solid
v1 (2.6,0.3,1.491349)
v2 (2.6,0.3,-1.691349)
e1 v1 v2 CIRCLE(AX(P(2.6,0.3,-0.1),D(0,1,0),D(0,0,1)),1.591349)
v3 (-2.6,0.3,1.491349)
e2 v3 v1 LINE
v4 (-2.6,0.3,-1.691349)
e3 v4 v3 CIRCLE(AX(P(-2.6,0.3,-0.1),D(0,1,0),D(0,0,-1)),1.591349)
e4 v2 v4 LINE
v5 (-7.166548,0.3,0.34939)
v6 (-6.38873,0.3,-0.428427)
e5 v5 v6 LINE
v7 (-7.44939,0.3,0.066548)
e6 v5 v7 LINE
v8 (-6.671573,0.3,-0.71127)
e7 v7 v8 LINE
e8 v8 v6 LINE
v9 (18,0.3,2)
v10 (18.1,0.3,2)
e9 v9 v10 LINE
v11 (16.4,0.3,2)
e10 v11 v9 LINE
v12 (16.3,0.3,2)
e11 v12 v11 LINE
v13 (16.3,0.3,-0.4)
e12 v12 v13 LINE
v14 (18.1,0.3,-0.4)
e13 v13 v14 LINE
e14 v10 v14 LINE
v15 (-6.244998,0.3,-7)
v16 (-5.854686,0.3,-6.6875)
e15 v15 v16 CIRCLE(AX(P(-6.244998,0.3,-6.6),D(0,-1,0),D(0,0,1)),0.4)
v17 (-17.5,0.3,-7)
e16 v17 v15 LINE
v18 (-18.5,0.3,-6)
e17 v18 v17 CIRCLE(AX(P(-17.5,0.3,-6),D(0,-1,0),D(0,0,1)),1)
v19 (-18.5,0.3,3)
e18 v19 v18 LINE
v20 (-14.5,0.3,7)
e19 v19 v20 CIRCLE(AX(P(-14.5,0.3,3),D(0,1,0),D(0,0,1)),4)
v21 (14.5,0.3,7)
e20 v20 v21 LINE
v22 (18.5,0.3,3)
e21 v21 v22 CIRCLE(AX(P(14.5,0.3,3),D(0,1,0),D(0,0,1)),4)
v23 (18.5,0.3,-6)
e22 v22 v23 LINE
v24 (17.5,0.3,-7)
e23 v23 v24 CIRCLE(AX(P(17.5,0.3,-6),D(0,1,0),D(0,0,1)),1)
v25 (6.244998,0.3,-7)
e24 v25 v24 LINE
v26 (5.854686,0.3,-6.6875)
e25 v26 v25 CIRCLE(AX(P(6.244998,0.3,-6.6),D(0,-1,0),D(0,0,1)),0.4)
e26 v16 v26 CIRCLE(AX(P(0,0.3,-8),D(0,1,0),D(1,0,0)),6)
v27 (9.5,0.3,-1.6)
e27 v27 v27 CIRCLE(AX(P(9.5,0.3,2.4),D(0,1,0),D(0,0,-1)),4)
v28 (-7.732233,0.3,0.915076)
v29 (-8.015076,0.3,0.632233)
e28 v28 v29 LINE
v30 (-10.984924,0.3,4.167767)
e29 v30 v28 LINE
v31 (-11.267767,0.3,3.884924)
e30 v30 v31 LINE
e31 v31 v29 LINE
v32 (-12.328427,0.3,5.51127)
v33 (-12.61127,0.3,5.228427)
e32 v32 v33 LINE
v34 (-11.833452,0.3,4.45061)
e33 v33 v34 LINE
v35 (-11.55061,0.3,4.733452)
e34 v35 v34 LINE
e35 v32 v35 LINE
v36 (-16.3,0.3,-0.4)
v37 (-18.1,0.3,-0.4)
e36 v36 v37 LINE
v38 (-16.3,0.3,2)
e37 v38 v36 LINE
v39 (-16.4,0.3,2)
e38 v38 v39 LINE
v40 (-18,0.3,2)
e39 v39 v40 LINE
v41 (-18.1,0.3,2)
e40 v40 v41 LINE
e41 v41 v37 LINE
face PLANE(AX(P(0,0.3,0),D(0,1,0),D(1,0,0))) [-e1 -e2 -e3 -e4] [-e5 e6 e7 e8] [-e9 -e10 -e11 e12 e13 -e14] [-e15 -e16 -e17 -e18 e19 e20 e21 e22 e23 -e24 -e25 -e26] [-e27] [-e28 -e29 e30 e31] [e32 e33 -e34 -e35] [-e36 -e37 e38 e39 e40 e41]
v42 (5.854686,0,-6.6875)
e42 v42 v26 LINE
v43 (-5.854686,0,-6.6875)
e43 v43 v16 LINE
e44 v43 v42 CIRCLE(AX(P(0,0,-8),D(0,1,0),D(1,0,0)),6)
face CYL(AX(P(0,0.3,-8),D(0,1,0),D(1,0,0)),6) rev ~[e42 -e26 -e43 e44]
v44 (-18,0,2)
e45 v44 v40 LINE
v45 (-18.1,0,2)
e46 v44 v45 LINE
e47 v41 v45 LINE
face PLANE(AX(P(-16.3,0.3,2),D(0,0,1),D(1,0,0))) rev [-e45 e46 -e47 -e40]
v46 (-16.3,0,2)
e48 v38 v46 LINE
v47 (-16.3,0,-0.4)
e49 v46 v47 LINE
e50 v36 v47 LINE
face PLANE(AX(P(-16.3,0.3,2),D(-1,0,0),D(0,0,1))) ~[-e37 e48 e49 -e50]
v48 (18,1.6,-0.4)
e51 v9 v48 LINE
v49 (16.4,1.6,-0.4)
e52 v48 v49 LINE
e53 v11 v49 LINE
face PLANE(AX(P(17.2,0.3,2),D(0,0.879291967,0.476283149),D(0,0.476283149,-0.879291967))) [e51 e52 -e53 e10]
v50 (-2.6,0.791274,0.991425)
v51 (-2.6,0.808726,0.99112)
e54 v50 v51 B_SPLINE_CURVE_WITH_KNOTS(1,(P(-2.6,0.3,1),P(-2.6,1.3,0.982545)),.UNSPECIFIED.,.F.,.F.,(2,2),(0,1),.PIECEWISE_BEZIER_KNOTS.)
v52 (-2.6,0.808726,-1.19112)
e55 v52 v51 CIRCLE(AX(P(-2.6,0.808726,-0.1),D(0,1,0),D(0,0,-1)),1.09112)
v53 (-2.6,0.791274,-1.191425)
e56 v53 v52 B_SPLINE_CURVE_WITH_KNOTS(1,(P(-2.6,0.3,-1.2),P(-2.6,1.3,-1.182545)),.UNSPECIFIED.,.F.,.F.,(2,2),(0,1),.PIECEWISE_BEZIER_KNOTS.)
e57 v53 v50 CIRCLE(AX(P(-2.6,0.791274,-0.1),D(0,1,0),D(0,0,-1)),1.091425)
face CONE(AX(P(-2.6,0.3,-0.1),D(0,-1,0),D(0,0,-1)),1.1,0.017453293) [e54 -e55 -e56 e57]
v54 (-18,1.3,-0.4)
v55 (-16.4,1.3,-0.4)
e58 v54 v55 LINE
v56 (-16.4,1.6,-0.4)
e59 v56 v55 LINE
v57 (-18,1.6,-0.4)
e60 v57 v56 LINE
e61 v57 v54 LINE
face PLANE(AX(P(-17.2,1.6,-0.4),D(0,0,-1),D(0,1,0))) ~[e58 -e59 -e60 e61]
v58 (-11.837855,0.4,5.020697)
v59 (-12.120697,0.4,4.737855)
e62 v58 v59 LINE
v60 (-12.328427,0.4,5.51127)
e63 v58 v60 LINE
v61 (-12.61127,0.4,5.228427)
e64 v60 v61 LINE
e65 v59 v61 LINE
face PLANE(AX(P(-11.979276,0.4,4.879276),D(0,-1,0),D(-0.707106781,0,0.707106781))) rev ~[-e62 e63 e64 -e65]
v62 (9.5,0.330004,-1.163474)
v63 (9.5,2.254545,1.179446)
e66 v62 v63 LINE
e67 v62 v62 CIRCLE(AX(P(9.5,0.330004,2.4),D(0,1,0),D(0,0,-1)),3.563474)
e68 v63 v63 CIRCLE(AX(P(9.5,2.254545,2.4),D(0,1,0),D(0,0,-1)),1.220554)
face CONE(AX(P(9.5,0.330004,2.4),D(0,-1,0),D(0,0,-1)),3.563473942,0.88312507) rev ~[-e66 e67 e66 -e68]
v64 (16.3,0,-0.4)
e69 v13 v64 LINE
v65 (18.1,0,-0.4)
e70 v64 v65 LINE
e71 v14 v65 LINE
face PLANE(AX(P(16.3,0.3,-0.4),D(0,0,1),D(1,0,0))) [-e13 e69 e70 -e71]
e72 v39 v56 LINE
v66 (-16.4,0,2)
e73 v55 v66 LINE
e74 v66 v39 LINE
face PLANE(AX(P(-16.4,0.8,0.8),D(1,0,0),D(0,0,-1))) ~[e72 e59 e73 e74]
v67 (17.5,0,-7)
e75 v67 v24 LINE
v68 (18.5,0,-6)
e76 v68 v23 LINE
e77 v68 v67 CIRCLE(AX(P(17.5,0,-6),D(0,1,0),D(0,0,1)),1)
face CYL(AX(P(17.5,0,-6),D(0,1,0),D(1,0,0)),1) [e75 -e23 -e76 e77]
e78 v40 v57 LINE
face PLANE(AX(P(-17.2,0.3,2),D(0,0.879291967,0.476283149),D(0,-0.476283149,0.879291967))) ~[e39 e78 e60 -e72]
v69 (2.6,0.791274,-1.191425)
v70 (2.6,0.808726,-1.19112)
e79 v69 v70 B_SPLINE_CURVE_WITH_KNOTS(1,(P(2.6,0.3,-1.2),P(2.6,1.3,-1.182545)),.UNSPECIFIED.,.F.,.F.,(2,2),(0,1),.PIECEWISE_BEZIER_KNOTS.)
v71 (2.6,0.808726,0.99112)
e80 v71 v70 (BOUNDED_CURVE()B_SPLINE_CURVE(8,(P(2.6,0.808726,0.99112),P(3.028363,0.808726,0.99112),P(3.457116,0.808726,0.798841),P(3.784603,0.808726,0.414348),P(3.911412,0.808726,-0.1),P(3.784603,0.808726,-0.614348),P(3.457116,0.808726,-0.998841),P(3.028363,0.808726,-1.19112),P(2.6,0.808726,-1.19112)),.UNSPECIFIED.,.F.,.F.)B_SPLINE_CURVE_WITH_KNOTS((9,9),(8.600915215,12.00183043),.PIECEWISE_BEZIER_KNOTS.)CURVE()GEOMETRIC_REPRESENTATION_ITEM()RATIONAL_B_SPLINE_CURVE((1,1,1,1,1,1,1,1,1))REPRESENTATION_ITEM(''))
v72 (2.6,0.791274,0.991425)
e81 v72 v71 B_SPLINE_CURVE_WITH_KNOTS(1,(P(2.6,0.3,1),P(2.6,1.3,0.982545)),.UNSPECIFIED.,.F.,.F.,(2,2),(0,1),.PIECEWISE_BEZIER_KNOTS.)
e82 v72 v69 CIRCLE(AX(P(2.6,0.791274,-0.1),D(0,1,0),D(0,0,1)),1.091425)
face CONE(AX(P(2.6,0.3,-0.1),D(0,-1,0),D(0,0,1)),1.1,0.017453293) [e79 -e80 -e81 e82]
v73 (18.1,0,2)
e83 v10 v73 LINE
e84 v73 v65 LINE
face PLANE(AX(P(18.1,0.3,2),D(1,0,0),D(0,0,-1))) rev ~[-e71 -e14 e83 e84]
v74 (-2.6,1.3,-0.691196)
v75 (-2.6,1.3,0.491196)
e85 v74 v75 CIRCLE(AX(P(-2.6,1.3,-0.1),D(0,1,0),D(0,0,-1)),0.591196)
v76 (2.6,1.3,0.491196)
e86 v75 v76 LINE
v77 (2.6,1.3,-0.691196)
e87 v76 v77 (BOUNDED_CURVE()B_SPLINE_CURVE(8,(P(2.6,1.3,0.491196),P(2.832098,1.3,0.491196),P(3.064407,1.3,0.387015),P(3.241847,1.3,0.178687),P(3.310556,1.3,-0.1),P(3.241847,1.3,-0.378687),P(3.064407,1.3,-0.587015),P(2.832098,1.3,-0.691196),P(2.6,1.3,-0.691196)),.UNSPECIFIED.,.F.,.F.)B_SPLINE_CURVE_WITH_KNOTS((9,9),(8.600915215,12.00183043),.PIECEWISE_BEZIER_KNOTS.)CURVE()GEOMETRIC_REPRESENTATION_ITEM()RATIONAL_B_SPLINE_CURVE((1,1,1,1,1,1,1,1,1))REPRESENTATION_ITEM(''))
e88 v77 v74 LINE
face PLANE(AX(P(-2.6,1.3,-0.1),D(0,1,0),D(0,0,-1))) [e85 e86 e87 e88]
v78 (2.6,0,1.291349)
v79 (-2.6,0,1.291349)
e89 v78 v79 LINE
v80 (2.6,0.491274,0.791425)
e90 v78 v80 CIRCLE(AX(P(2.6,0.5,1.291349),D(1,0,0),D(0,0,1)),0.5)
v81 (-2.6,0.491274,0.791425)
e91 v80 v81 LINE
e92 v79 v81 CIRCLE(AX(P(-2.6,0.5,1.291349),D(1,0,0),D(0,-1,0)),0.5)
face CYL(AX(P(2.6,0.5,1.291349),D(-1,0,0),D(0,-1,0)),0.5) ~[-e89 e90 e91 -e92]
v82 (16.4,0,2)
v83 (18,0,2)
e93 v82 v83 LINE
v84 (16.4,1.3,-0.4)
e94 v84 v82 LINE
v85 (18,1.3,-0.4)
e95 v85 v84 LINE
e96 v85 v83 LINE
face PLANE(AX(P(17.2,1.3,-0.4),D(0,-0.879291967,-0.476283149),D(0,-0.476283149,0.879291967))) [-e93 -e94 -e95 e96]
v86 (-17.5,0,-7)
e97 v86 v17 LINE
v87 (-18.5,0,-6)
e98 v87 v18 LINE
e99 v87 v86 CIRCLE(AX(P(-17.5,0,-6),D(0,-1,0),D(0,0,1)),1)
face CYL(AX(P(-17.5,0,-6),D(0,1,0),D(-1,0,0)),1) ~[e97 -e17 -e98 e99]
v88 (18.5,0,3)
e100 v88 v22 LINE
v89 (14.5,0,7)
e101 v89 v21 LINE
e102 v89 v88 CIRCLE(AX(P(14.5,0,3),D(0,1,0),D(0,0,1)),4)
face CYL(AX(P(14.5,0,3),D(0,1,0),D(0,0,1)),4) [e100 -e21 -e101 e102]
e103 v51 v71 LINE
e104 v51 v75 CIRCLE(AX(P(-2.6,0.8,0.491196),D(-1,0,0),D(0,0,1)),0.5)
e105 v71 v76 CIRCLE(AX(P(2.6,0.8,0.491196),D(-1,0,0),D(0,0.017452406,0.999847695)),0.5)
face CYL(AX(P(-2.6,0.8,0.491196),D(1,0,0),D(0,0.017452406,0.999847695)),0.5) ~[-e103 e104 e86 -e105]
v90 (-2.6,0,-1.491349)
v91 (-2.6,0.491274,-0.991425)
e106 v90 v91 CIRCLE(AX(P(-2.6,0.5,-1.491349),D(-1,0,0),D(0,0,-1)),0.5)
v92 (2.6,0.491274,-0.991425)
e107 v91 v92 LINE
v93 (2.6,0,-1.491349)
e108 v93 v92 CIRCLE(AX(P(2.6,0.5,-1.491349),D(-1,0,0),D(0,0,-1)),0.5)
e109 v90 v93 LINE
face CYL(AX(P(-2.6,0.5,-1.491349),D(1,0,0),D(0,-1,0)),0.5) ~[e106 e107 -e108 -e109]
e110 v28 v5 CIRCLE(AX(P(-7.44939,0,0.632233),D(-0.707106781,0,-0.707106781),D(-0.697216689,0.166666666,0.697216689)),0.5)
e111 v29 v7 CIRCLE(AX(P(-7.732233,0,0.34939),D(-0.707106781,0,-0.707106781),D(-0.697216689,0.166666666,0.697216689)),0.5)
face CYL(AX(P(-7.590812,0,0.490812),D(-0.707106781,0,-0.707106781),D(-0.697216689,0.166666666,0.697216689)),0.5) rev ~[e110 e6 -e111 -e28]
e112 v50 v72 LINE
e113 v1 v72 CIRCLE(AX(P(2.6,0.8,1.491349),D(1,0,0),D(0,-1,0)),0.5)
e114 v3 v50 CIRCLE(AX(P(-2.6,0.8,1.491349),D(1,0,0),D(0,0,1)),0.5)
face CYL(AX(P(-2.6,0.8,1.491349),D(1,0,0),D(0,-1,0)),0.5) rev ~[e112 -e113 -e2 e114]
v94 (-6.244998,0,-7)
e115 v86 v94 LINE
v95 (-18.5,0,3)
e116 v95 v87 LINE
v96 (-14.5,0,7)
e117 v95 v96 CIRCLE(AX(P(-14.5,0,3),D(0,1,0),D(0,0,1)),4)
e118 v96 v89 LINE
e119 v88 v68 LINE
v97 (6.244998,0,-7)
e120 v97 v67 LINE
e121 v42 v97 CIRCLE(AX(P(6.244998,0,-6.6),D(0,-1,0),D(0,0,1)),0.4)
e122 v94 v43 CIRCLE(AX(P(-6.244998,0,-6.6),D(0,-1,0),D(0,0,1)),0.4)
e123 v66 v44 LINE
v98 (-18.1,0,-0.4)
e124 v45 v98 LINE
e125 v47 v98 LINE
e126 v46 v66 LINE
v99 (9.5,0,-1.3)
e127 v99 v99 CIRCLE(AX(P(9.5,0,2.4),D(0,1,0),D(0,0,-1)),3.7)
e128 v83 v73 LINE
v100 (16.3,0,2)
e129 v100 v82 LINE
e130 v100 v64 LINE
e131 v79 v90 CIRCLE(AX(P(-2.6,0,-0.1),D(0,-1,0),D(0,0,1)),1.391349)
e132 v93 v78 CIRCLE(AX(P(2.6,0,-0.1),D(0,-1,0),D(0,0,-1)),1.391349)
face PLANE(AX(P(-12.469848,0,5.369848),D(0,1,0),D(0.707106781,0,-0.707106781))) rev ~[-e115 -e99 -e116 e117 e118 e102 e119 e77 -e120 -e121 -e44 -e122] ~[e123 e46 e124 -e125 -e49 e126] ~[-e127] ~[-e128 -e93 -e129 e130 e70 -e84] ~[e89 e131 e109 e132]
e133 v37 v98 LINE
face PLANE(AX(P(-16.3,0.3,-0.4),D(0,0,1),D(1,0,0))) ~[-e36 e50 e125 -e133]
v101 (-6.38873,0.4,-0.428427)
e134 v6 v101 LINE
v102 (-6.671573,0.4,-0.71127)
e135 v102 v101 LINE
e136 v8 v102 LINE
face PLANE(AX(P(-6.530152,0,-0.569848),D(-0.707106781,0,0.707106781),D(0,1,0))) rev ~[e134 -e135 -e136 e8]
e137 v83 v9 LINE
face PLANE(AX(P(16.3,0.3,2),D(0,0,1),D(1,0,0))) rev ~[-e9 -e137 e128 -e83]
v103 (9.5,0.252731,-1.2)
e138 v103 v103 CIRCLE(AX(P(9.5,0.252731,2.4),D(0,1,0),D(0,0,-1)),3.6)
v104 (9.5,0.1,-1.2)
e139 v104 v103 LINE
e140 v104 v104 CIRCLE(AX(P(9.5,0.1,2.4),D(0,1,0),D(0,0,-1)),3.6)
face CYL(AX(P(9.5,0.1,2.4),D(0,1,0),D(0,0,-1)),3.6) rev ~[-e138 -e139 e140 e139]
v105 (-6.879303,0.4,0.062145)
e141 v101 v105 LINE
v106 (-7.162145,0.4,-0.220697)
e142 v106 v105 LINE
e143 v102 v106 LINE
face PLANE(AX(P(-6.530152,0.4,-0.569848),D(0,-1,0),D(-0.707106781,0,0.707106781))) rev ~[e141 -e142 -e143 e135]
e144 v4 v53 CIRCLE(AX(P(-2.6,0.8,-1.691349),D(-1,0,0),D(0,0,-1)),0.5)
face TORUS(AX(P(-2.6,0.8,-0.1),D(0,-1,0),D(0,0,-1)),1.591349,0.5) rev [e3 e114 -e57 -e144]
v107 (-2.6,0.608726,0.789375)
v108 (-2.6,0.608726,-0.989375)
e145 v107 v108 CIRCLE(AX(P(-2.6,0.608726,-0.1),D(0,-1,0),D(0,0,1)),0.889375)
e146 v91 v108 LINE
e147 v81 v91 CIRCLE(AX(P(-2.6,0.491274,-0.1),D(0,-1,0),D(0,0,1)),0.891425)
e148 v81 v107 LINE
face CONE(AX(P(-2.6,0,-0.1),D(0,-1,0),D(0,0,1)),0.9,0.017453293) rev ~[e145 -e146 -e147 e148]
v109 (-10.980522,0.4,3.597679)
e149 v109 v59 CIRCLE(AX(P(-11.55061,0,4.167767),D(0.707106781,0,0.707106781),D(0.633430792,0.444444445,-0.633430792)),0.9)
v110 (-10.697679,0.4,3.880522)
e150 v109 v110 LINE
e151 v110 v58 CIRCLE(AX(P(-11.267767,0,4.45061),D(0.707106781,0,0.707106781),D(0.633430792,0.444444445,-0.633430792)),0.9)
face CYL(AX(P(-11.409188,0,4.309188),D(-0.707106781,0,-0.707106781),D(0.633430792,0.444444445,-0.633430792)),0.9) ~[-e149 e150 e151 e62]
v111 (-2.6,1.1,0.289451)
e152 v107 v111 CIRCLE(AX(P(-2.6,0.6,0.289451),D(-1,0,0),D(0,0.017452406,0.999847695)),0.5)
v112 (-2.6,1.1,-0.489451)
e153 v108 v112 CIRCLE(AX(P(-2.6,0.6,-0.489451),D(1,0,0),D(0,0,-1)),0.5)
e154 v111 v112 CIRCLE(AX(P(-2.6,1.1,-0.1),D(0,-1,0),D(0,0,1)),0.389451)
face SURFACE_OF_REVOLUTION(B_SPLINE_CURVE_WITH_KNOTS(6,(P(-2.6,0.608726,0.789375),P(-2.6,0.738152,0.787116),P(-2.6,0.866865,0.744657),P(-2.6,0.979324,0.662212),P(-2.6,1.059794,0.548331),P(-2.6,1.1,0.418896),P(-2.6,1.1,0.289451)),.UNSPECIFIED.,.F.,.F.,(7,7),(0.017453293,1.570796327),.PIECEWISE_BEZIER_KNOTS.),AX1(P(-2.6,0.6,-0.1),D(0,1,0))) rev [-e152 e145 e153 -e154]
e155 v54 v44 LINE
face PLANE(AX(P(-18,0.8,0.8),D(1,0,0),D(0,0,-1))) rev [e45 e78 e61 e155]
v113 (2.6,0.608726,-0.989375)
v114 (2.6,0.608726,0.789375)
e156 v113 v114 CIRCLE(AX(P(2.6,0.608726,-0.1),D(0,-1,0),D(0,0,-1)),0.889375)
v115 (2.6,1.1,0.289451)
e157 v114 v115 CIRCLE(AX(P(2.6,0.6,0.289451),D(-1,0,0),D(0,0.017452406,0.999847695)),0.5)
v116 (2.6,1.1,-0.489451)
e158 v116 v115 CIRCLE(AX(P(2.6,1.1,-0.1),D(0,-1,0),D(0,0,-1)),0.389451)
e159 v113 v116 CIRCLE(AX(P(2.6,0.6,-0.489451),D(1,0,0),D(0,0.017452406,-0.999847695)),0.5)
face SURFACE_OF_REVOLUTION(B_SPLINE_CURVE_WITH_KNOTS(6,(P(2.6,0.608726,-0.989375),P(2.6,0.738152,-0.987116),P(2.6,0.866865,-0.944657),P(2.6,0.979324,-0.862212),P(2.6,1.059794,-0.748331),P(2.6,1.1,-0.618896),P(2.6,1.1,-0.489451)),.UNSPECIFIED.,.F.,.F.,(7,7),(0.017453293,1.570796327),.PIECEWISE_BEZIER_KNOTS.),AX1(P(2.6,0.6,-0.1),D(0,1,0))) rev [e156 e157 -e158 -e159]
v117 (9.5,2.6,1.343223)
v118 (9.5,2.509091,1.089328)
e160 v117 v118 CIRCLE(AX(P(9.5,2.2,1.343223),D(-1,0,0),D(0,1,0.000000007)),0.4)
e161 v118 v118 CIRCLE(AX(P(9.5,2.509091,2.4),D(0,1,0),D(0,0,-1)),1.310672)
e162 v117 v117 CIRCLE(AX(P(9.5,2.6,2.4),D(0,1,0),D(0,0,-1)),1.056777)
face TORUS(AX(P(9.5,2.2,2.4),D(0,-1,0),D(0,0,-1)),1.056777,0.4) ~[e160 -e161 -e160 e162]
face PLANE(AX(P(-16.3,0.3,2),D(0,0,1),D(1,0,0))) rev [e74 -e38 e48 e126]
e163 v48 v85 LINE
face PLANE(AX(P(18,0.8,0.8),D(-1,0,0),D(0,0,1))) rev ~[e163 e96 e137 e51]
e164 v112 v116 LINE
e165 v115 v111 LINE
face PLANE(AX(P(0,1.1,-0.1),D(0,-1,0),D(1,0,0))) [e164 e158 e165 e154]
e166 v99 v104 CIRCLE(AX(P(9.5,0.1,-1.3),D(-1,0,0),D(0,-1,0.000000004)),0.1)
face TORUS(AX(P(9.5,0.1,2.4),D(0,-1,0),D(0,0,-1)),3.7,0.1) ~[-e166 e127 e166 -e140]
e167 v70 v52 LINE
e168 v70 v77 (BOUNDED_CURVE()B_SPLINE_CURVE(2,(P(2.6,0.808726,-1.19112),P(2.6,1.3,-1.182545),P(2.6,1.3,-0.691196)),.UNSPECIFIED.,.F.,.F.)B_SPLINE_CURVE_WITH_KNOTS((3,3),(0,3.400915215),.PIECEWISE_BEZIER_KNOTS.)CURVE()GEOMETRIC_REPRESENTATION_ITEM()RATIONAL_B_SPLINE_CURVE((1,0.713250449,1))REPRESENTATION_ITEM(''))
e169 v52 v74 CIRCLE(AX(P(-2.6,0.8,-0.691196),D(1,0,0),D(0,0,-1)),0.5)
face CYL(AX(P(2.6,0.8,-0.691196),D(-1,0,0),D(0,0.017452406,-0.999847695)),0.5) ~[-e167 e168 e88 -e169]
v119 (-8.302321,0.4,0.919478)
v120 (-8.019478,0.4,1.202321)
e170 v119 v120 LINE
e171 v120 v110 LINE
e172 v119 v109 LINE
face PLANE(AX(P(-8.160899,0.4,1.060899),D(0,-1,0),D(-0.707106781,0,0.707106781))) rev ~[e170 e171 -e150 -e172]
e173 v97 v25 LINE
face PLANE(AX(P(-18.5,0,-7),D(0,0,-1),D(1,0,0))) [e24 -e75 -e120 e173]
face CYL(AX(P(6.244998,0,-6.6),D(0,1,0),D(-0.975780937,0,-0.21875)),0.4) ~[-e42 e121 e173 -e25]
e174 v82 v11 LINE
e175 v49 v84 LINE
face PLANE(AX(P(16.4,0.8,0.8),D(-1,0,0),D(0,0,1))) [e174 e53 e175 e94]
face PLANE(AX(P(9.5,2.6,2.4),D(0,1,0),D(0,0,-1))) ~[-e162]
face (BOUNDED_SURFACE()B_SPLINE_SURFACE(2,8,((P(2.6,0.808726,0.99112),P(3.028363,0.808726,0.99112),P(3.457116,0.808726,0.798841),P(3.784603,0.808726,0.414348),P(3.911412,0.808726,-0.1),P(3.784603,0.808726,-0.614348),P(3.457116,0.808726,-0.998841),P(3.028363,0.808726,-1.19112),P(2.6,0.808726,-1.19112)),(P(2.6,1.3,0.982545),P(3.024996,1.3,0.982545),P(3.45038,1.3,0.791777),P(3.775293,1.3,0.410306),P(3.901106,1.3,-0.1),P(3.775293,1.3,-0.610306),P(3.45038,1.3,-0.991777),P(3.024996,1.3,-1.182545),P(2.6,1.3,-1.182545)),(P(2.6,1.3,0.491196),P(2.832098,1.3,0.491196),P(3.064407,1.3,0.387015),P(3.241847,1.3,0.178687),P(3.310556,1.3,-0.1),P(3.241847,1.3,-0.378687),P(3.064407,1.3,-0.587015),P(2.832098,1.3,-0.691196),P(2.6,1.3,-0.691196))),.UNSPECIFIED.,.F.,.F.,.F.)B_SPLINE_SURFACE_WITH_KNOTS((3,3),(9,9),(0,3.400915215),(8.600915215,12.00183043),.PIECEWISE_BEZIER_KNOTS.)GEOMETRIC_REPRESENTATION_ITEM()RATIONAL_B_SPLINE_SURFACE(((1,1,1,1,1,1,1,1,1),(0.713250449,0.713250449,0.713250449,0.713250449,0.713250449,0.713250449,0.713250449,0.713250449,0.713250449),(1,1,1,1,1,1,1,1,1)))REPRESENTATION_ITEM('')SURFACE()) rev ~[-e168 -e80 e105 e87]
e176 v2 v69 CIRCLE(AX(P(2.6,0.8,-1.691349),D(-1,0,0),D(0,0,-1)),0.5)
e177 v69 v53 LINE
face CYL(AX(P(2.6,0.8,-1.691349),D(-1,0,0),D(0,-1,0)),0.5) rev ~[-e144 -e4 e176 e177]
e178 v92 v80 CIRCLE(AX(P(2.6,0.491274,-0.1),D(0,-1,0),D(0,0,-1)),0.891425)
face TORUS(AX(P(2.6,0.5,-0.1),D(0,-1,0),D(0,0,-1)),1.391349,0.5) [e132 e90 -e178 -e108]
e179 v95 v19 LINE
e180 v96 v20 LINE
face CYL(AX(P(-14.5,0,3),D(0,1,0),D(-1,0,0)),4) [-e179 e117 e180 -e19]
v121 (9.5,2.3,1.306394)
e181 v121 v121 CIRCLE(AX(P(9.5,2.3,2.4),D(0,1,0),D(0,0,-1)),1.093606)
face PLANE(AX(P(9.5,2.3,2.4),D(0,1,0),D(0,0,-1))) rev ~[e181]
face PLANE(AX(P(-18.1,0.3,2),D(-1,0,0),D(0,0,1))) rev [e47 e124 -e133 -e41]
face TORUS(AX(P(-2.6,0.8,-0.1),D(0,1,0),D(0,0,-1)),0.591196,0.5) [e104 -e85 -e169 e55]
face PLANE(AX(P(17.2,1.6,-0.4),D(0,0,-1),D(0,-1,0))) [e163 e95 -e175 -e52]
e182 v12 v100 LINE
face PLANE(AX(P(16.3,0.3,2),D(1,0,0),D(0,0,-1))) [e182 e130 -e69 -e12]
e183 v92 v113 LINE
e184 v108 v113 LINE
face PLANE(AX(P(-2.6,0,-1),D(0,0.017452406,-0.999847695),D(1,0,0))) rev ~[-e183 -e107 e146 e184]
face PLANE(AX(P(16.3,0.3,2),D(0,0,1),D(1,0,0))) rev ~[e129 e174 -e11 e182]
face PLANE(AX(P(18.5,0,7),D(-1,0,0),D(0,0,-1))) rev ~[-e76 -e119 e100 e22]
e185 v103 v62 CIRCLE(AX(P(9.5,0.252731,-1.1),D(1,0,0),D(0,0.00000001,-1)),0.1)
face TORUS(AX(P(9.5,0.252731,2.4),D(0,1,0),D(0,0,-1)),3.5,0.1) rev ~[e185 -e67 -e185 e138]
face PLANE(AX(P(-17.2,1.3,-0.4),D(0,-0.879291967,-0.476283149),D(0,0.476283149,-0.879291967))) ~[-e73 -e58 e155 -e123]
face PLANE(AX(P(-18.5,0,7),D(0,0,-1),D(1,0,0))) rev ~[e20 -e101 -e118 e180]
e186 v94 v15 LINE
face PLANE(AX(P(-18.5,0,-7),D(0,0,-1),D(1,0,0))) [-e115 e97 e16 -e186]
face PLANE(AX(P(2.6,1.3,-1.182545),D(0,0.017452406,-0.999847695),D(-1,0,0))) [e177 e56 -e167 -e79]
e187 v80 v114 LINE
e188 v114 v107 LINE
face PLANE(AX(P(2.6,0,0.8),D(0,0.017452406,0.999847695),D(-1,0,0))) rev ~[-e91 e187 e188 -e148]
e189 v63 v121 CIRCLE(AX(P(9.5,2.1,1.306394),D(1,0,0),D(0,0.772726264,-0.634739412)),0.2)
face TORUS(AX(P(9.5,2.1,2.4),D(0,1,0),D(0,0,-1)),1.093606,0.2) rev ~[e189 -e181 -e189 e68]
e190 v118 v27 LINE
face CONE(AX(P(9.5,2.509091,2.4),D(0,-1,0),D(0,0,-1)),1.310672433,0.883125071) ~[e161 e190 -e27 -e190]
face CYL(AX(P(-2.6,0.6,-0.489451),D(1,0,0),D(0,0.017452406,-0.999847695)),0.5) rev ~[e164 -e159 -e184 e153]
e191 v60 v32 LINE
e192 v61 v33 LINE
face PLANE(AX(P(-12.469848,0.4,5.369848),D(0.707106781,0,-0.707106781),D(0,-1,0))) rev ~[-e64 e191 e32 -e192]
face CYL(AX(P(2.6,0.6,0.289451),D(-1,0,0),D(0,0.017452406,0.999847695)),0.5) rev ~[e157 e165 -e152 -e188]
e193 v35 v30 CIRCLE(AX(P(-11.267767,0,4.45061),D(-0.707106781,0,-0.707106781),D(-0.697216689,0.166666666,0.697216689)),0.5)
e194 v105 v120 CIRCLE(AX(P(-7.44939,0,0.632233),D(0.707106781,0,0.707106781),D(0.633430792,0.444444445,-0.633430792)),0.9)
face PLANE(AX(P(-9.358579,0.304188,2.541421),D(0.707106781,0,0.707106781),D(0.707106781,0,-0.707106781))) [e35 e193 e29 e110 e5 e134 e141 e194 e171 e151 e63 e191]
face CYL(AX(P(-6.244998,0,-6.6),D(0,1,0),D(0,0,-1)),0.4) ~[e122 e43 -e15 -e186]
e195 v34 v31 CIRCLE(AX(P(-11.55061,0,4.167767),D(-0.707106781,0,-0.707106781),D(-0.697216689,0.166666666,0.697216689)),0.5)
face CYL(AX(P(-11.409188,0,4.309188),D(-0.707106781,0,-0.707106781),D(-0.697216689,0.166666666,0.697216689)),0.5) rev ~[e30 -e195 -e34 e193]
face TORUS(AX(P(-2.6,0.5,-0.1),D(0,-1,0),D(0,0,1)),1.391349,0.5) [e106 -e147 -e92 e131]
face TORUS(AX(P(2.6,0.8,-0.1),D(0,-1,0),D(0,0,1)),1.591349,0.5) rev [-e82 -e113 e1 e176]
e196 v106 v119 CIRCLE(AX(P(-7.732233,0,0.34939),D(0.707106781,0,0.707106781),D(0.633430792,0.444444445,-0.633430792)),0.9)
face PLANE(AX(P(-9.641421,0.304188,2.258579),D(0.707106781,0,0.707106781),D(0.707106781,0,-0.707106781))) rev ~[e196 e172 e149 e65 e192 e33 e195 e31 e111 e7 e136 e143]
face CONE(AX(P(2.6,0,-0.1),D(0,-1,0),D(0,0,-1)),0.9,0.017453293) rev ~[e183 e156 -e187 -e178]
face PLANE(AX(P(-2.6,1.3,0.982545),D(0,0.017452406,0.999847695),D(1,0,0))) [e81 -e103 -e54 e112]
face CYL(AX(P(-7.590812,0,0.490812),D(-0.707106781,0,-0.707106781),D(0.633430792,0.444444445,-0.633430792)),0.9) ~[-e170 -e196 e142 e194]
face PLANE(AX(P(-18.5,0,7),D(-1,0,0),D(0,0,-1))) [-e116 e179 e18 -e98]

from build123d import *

# Parameters (mm, degrees)
SKETCH1_W               = 37
SKETCH1_H               = 14
BASE_DEPTH              = 0.3
SKETCH3_R               = 6
TOP_SEMI_CIRCLE_DEPTH   = 20.782315335
SKETCH2_R               = 4
PT_CUT_DEPTH            = 20.782315335
MID_SLOT_BOSS_DEPTH     = 1
MID_SLOT_BOSS_TAPER     = 1
MSB_CUT_DEPTH           = 1.1
MSB_CUT_DRAFT           = -1
SKETCH7_W               = 1.8
SKETCH7_H               = 2.4
LOCKING_CLAMP_CUT_DEPTH = 20.91331213
LOCKING_CLAMP_DEPTH     = 0.8
SPRING_CLASP_DEPTH      = 0.2
TS_F_R                  = 1
BS_F_R                  = 4
SC_F_R                  = 0.4
MSB_OUTER_R             = 0.5
MSB_INNER_R             = 0.5


with BuildPart() as part:
    # Sketch1 → BASE (new body)
    with BuildSketch(Plane(origin=(0, 0, 0), x_dir=(1, 0, 0), z_dir=(0, 1, 0))):
        Rectangle(SKETCH1_W, SKETCH1_H)
    extrude(amount=BASE_DEPTH)

    # Sketch3 → TOP SEMI CIRCLE (cut, through all)
    with BuildSketch(Plane(origin=(0, 0.3, 0), x_dir=(1, 0, 0), z_dir=(0, 1, 0))):
        with Locations((0, 8)):
            Circle(SKETCH3_R)
    extrude(amount=-TOP_SEMI_CIRCLE_DEPTH, mode=Mode.SUBTRACT)

    # Sketch2 → PT CUT (cut, through all)
    with BuildSketch(Plane(origin=(0, 0.3, 0), x_dir=(1, 0, 0), z_dir=(0, 1, 0))):
        with Locations(Location((9.5, -2.4, 0), (0, 0, 270))):
            Circle(SKETCH2_R)
    extrude(amount=-PT_CUT_DEPTH, mode=Mode.SUBTRACT)

    # Sketch4 → POSITIVE TERMINAL (revolve)
    with BuildSketch(Plane.XY.offset(2.4), mode=Mode.PRIVATE) as positive_terminal_sk:
        with BuildLine():
            Line((9.5, 2.6), (10.556776663, 2.6))
            ThreePointArc((10.556776663, 2.6), (10.691616938, 2.576587441), (10.810672433, 2.509090502))
            Line((10.810672433, 2.509090502), (13.5, 0.3))
            Line((13.5, 0.3), (13.5, 0))
            Line((13.5, 0), (13.2, 0))
            ThreePointArc((13.2, 0), (13.129289322, 0.029289322), (13.1, 0.1))
            Line((13.1, 0.1), (13.1, 0.252730922))
            ThreePointArc((13.1, 0.252730922), (13.090408501, 0.295466187), (13.063473942, 0.330003547))
            Line((13.063473942, 0.330003547), (10.720553608, 2.254545251))
            ThreePointArc((10.720553608, 2.254545251), (10.66102586, 2.28829372), (10.593605723, 2.3))
            Line((10.593605723, 2.3), (9.5, 2.3))
            Line((9.5, 2.3), (9.5, 2.6))
        make_face()
    revolve(positive_terminal_sk.sketch.rotate(Axis((9.5, 0, 2.4), (0, 1, 0)), 90), axis=Axis((9.5, 0, 2.4), (0, 1, 0)))

    # Sketch5 → MID SLOT BOSS (add)
    with BuildSketch(Plane(origin=(0, 0.3, 0), x_dir=(1, 0, 0), z_dir=(0, 1, 0))):
        with BuildLine():
            ThreePointArc((-2.6, 1.2), (-3.7, 0.1), (-2.6, -1))
            Line((-2.6, -1), (2.6, -1))
            ThreePointArc((2.6, -1), (3.7, 0.1), (2.6, 1.2))
            Line((2.6, 1.2), (-2.6, 1.2))
        make_face()
    extrude(amount=MID_SLOT_BOSS_DEPTH, taper=MID_SLOT_BOSS_TAPER)


with BuildPart() as msb_cut_tool:
    # Sketch6 → MSB CUT (with draft: the straight prism first)
    with BuildSketch(Plane.XZ):
        with BuildLine():
            ThreePointArc((2.6, -1), (3.5, -0.1), (2.6, 0.8))
            Line((2.6, 0.8), (-2.6, 0.8))
            ThreePointArc((-2.6, 0.8), (-3.5, -0.1), (-2.6, -1))
            Line((-2.6, -1), (2.6, -1))
        make_face()
    extrude(amount=-MSB_CUT_DEPTH)
    # MSB CUT: the draft: its side faces are tilted about the plane it starts from
    msb_cut_sides = [msb_cut_tool.faces().sort_by_distance(p)[0] for p in [
        (-3.5, 0.55, -0.1),
        (0, 0.55, -1),
        (3.5, 0.55, -0.1),
        (0, 0.55, 0.8),
    ]]
    draft(msb_cut_sides, Plane.XZ, MSB_CUT_DRAFT)


with BuildPart() as part_1:
    add(part.part)

    # MSB CUT: cut by msb_cut_tool
    add(msb_cut_tool.part, mode=Mode.SUBTRACT)

    # Sketch7 → LOCKING CLAMP CUT (cut, through all)
    with BuildSketch(Plane(origin=(0, 0.3, 0), x_dir=(1, 0, 0), z_dir=(0, 1, 0))):
        with Locations((17.2, -0.8)):
            Rectangle(SKETCH7_W, SKETCH7_H)
    locking_clamp_cut = extrude(amount=-LOCKING_CLAMP_CUT_DEPTH, mode=Mode.SUBTRACT)

    # Sketch9 → LOCKING CLAMP (add, symmetric)
    with BuildSketch(Plane.ZY.offset(-17.2)):
        Polygon((2, 0.3), (-0.4, 1.6), (-0.4, 1.3), (2, 0), align=None)
    locking_clamp = extrude(amount=LOCKING_CLAMP_DEPTH, both=True)

    # LC M: LOCKING CLAMP CUT, LOCKING CLAMP across plane
    add(locking_clamp_cut.mirror(Plane(origin=(0, 0, 0), x_dir=(0, 0, 1), z_dir=(1, 0, 0))), mode=Mode.SUBTRACT)
    add(locking_clamp.mirror(Plane(origin=(0, 0, 0), x_dir=(0, 0, 1), z_dir=(1, 0, 0))))

    # Sketch11 → SPRING CLASP (add, symmetric)
    with BuildSketch(Plane(origin=(-3.55, 0, -3.55), x_dir=(-0.7071067811865459, 0, 0.7071067811865491), z_dir=(-0.7071067811865491, 0, -0.7071067811865459))):
        with BuildLine():
            Line((12.614570696, 0), (11.706178674, 0))
            ThreePointArc((11.706178674, 0), (11.641628952, 0.023623738), (11.607577345, 0.083333333))
            ThreePointArc((11.607577345, 0.083333333), (11.114570696, 0.5), (10.621564048, 0.083333333))
            ThreePointArc((10.621564048, 0.083333333), (10.58751244, 0.023623738), (10.522962718, 0))
            Line((10.522962718, 0), (6.306178674, 0))
            ThreePointArc((6.306178674, 0), (6.241628952, 0.023623738), (6.207577345, 0.083333333))
            ThreePointArc((6.207577345, 0.083333333), (5.714570696, 0.5), (5.221564048, 0.083333333))
            ThreePointArc((5.221564048, 0.083333333), (5.18751244, 0.023623738), (5.122962718, 0))
            Line((5.122962718, 0), (4.214570696, 0))
            Line((4.214570696, 0), (4.214570696, 0.4))
            Line((4.214570696, 0.4), (4.908344921, 0.4))
            ThreePointArc((4.908344921, 0.4), (5.714570696, 0.9), (6.520796471, 0.4))
            Line((6.520796471, 0.4), (10.308344921, 0.4))
            ThreePointArc((10.308344921, 0.4), (11.114570696, 0.9), (11.920796471, 0.4))
            Line((11.920796471, 0.4), (12.614570696, 0.4))
            Line((12.614570696, 0.4), (12.614570696, 0))
        make_face()
    extrude(amount=SPRING_CLASP_DEPTH, both=True)

    # TS F
    ts_f_edges = [part_1.edges().sort_by_distance(p)[0] for p in [
        (-18.5, 0.15, -7),
        (18.5, 0.15, -7),
    ]]
    fillet(ts_f_edges, radius=TS_F_R)

    # BS F
    bs_f_edges = [part_1.edges().sort_by_distance(p)[0] for p in [
        (18.5, 0.15, 7),
        (-18.5, 0.15, 7),
    ]]
    fillet(bs_f_edges, radius=BS_F_R)

    # SC F
    sc_f_edges = [part_1.edges().sort_by_distance(p)[0] for p in [
        (5.916079783, 0.15, -7),
        (-5.916079783, 0.15, -7),
    ]]
    fillet(sc_f_edges, radius=SC_F_R)

    # MSB OUTER
    msb_outer_edges = [part_1.edges().sort_by_distance(p)[0] for p in [
        (-3.7, 0.3, -0.1),
        (0, 0.3, 1),
        (3.7, 0.3, -0.1),
        (0, 0.3, -1.2),
        (-3.682544935, 1.3, -0.1),
        (0, 1.3, 0.982544935),
        (3.682544935, 1.3, -0.1),
        (0, 1.3, -1.182544935),
    ]]
    fillet(msb_outer_edges, radius=MSB_OUTER_R)

    # MSB INNER
    msb_inner_edges = [part_1.edges().sort_by_distance(p)[0] for p in [
        (3.5, 0, -0.1),
        (0, 0, 0.8),
        (-3.5, 0, -0.1),
        (0, 0, -1),
        (0, 1.1, 0.780799429),
        (-3.480799429, 1.1, -0.1),
        (0, 1.1, -0.980799429),
        (3.480799429, 1.1, -0.1),
    ]]
    fillet(msb_inner_edges, radius=MSB_INNER_R)


solid = part_1.part
